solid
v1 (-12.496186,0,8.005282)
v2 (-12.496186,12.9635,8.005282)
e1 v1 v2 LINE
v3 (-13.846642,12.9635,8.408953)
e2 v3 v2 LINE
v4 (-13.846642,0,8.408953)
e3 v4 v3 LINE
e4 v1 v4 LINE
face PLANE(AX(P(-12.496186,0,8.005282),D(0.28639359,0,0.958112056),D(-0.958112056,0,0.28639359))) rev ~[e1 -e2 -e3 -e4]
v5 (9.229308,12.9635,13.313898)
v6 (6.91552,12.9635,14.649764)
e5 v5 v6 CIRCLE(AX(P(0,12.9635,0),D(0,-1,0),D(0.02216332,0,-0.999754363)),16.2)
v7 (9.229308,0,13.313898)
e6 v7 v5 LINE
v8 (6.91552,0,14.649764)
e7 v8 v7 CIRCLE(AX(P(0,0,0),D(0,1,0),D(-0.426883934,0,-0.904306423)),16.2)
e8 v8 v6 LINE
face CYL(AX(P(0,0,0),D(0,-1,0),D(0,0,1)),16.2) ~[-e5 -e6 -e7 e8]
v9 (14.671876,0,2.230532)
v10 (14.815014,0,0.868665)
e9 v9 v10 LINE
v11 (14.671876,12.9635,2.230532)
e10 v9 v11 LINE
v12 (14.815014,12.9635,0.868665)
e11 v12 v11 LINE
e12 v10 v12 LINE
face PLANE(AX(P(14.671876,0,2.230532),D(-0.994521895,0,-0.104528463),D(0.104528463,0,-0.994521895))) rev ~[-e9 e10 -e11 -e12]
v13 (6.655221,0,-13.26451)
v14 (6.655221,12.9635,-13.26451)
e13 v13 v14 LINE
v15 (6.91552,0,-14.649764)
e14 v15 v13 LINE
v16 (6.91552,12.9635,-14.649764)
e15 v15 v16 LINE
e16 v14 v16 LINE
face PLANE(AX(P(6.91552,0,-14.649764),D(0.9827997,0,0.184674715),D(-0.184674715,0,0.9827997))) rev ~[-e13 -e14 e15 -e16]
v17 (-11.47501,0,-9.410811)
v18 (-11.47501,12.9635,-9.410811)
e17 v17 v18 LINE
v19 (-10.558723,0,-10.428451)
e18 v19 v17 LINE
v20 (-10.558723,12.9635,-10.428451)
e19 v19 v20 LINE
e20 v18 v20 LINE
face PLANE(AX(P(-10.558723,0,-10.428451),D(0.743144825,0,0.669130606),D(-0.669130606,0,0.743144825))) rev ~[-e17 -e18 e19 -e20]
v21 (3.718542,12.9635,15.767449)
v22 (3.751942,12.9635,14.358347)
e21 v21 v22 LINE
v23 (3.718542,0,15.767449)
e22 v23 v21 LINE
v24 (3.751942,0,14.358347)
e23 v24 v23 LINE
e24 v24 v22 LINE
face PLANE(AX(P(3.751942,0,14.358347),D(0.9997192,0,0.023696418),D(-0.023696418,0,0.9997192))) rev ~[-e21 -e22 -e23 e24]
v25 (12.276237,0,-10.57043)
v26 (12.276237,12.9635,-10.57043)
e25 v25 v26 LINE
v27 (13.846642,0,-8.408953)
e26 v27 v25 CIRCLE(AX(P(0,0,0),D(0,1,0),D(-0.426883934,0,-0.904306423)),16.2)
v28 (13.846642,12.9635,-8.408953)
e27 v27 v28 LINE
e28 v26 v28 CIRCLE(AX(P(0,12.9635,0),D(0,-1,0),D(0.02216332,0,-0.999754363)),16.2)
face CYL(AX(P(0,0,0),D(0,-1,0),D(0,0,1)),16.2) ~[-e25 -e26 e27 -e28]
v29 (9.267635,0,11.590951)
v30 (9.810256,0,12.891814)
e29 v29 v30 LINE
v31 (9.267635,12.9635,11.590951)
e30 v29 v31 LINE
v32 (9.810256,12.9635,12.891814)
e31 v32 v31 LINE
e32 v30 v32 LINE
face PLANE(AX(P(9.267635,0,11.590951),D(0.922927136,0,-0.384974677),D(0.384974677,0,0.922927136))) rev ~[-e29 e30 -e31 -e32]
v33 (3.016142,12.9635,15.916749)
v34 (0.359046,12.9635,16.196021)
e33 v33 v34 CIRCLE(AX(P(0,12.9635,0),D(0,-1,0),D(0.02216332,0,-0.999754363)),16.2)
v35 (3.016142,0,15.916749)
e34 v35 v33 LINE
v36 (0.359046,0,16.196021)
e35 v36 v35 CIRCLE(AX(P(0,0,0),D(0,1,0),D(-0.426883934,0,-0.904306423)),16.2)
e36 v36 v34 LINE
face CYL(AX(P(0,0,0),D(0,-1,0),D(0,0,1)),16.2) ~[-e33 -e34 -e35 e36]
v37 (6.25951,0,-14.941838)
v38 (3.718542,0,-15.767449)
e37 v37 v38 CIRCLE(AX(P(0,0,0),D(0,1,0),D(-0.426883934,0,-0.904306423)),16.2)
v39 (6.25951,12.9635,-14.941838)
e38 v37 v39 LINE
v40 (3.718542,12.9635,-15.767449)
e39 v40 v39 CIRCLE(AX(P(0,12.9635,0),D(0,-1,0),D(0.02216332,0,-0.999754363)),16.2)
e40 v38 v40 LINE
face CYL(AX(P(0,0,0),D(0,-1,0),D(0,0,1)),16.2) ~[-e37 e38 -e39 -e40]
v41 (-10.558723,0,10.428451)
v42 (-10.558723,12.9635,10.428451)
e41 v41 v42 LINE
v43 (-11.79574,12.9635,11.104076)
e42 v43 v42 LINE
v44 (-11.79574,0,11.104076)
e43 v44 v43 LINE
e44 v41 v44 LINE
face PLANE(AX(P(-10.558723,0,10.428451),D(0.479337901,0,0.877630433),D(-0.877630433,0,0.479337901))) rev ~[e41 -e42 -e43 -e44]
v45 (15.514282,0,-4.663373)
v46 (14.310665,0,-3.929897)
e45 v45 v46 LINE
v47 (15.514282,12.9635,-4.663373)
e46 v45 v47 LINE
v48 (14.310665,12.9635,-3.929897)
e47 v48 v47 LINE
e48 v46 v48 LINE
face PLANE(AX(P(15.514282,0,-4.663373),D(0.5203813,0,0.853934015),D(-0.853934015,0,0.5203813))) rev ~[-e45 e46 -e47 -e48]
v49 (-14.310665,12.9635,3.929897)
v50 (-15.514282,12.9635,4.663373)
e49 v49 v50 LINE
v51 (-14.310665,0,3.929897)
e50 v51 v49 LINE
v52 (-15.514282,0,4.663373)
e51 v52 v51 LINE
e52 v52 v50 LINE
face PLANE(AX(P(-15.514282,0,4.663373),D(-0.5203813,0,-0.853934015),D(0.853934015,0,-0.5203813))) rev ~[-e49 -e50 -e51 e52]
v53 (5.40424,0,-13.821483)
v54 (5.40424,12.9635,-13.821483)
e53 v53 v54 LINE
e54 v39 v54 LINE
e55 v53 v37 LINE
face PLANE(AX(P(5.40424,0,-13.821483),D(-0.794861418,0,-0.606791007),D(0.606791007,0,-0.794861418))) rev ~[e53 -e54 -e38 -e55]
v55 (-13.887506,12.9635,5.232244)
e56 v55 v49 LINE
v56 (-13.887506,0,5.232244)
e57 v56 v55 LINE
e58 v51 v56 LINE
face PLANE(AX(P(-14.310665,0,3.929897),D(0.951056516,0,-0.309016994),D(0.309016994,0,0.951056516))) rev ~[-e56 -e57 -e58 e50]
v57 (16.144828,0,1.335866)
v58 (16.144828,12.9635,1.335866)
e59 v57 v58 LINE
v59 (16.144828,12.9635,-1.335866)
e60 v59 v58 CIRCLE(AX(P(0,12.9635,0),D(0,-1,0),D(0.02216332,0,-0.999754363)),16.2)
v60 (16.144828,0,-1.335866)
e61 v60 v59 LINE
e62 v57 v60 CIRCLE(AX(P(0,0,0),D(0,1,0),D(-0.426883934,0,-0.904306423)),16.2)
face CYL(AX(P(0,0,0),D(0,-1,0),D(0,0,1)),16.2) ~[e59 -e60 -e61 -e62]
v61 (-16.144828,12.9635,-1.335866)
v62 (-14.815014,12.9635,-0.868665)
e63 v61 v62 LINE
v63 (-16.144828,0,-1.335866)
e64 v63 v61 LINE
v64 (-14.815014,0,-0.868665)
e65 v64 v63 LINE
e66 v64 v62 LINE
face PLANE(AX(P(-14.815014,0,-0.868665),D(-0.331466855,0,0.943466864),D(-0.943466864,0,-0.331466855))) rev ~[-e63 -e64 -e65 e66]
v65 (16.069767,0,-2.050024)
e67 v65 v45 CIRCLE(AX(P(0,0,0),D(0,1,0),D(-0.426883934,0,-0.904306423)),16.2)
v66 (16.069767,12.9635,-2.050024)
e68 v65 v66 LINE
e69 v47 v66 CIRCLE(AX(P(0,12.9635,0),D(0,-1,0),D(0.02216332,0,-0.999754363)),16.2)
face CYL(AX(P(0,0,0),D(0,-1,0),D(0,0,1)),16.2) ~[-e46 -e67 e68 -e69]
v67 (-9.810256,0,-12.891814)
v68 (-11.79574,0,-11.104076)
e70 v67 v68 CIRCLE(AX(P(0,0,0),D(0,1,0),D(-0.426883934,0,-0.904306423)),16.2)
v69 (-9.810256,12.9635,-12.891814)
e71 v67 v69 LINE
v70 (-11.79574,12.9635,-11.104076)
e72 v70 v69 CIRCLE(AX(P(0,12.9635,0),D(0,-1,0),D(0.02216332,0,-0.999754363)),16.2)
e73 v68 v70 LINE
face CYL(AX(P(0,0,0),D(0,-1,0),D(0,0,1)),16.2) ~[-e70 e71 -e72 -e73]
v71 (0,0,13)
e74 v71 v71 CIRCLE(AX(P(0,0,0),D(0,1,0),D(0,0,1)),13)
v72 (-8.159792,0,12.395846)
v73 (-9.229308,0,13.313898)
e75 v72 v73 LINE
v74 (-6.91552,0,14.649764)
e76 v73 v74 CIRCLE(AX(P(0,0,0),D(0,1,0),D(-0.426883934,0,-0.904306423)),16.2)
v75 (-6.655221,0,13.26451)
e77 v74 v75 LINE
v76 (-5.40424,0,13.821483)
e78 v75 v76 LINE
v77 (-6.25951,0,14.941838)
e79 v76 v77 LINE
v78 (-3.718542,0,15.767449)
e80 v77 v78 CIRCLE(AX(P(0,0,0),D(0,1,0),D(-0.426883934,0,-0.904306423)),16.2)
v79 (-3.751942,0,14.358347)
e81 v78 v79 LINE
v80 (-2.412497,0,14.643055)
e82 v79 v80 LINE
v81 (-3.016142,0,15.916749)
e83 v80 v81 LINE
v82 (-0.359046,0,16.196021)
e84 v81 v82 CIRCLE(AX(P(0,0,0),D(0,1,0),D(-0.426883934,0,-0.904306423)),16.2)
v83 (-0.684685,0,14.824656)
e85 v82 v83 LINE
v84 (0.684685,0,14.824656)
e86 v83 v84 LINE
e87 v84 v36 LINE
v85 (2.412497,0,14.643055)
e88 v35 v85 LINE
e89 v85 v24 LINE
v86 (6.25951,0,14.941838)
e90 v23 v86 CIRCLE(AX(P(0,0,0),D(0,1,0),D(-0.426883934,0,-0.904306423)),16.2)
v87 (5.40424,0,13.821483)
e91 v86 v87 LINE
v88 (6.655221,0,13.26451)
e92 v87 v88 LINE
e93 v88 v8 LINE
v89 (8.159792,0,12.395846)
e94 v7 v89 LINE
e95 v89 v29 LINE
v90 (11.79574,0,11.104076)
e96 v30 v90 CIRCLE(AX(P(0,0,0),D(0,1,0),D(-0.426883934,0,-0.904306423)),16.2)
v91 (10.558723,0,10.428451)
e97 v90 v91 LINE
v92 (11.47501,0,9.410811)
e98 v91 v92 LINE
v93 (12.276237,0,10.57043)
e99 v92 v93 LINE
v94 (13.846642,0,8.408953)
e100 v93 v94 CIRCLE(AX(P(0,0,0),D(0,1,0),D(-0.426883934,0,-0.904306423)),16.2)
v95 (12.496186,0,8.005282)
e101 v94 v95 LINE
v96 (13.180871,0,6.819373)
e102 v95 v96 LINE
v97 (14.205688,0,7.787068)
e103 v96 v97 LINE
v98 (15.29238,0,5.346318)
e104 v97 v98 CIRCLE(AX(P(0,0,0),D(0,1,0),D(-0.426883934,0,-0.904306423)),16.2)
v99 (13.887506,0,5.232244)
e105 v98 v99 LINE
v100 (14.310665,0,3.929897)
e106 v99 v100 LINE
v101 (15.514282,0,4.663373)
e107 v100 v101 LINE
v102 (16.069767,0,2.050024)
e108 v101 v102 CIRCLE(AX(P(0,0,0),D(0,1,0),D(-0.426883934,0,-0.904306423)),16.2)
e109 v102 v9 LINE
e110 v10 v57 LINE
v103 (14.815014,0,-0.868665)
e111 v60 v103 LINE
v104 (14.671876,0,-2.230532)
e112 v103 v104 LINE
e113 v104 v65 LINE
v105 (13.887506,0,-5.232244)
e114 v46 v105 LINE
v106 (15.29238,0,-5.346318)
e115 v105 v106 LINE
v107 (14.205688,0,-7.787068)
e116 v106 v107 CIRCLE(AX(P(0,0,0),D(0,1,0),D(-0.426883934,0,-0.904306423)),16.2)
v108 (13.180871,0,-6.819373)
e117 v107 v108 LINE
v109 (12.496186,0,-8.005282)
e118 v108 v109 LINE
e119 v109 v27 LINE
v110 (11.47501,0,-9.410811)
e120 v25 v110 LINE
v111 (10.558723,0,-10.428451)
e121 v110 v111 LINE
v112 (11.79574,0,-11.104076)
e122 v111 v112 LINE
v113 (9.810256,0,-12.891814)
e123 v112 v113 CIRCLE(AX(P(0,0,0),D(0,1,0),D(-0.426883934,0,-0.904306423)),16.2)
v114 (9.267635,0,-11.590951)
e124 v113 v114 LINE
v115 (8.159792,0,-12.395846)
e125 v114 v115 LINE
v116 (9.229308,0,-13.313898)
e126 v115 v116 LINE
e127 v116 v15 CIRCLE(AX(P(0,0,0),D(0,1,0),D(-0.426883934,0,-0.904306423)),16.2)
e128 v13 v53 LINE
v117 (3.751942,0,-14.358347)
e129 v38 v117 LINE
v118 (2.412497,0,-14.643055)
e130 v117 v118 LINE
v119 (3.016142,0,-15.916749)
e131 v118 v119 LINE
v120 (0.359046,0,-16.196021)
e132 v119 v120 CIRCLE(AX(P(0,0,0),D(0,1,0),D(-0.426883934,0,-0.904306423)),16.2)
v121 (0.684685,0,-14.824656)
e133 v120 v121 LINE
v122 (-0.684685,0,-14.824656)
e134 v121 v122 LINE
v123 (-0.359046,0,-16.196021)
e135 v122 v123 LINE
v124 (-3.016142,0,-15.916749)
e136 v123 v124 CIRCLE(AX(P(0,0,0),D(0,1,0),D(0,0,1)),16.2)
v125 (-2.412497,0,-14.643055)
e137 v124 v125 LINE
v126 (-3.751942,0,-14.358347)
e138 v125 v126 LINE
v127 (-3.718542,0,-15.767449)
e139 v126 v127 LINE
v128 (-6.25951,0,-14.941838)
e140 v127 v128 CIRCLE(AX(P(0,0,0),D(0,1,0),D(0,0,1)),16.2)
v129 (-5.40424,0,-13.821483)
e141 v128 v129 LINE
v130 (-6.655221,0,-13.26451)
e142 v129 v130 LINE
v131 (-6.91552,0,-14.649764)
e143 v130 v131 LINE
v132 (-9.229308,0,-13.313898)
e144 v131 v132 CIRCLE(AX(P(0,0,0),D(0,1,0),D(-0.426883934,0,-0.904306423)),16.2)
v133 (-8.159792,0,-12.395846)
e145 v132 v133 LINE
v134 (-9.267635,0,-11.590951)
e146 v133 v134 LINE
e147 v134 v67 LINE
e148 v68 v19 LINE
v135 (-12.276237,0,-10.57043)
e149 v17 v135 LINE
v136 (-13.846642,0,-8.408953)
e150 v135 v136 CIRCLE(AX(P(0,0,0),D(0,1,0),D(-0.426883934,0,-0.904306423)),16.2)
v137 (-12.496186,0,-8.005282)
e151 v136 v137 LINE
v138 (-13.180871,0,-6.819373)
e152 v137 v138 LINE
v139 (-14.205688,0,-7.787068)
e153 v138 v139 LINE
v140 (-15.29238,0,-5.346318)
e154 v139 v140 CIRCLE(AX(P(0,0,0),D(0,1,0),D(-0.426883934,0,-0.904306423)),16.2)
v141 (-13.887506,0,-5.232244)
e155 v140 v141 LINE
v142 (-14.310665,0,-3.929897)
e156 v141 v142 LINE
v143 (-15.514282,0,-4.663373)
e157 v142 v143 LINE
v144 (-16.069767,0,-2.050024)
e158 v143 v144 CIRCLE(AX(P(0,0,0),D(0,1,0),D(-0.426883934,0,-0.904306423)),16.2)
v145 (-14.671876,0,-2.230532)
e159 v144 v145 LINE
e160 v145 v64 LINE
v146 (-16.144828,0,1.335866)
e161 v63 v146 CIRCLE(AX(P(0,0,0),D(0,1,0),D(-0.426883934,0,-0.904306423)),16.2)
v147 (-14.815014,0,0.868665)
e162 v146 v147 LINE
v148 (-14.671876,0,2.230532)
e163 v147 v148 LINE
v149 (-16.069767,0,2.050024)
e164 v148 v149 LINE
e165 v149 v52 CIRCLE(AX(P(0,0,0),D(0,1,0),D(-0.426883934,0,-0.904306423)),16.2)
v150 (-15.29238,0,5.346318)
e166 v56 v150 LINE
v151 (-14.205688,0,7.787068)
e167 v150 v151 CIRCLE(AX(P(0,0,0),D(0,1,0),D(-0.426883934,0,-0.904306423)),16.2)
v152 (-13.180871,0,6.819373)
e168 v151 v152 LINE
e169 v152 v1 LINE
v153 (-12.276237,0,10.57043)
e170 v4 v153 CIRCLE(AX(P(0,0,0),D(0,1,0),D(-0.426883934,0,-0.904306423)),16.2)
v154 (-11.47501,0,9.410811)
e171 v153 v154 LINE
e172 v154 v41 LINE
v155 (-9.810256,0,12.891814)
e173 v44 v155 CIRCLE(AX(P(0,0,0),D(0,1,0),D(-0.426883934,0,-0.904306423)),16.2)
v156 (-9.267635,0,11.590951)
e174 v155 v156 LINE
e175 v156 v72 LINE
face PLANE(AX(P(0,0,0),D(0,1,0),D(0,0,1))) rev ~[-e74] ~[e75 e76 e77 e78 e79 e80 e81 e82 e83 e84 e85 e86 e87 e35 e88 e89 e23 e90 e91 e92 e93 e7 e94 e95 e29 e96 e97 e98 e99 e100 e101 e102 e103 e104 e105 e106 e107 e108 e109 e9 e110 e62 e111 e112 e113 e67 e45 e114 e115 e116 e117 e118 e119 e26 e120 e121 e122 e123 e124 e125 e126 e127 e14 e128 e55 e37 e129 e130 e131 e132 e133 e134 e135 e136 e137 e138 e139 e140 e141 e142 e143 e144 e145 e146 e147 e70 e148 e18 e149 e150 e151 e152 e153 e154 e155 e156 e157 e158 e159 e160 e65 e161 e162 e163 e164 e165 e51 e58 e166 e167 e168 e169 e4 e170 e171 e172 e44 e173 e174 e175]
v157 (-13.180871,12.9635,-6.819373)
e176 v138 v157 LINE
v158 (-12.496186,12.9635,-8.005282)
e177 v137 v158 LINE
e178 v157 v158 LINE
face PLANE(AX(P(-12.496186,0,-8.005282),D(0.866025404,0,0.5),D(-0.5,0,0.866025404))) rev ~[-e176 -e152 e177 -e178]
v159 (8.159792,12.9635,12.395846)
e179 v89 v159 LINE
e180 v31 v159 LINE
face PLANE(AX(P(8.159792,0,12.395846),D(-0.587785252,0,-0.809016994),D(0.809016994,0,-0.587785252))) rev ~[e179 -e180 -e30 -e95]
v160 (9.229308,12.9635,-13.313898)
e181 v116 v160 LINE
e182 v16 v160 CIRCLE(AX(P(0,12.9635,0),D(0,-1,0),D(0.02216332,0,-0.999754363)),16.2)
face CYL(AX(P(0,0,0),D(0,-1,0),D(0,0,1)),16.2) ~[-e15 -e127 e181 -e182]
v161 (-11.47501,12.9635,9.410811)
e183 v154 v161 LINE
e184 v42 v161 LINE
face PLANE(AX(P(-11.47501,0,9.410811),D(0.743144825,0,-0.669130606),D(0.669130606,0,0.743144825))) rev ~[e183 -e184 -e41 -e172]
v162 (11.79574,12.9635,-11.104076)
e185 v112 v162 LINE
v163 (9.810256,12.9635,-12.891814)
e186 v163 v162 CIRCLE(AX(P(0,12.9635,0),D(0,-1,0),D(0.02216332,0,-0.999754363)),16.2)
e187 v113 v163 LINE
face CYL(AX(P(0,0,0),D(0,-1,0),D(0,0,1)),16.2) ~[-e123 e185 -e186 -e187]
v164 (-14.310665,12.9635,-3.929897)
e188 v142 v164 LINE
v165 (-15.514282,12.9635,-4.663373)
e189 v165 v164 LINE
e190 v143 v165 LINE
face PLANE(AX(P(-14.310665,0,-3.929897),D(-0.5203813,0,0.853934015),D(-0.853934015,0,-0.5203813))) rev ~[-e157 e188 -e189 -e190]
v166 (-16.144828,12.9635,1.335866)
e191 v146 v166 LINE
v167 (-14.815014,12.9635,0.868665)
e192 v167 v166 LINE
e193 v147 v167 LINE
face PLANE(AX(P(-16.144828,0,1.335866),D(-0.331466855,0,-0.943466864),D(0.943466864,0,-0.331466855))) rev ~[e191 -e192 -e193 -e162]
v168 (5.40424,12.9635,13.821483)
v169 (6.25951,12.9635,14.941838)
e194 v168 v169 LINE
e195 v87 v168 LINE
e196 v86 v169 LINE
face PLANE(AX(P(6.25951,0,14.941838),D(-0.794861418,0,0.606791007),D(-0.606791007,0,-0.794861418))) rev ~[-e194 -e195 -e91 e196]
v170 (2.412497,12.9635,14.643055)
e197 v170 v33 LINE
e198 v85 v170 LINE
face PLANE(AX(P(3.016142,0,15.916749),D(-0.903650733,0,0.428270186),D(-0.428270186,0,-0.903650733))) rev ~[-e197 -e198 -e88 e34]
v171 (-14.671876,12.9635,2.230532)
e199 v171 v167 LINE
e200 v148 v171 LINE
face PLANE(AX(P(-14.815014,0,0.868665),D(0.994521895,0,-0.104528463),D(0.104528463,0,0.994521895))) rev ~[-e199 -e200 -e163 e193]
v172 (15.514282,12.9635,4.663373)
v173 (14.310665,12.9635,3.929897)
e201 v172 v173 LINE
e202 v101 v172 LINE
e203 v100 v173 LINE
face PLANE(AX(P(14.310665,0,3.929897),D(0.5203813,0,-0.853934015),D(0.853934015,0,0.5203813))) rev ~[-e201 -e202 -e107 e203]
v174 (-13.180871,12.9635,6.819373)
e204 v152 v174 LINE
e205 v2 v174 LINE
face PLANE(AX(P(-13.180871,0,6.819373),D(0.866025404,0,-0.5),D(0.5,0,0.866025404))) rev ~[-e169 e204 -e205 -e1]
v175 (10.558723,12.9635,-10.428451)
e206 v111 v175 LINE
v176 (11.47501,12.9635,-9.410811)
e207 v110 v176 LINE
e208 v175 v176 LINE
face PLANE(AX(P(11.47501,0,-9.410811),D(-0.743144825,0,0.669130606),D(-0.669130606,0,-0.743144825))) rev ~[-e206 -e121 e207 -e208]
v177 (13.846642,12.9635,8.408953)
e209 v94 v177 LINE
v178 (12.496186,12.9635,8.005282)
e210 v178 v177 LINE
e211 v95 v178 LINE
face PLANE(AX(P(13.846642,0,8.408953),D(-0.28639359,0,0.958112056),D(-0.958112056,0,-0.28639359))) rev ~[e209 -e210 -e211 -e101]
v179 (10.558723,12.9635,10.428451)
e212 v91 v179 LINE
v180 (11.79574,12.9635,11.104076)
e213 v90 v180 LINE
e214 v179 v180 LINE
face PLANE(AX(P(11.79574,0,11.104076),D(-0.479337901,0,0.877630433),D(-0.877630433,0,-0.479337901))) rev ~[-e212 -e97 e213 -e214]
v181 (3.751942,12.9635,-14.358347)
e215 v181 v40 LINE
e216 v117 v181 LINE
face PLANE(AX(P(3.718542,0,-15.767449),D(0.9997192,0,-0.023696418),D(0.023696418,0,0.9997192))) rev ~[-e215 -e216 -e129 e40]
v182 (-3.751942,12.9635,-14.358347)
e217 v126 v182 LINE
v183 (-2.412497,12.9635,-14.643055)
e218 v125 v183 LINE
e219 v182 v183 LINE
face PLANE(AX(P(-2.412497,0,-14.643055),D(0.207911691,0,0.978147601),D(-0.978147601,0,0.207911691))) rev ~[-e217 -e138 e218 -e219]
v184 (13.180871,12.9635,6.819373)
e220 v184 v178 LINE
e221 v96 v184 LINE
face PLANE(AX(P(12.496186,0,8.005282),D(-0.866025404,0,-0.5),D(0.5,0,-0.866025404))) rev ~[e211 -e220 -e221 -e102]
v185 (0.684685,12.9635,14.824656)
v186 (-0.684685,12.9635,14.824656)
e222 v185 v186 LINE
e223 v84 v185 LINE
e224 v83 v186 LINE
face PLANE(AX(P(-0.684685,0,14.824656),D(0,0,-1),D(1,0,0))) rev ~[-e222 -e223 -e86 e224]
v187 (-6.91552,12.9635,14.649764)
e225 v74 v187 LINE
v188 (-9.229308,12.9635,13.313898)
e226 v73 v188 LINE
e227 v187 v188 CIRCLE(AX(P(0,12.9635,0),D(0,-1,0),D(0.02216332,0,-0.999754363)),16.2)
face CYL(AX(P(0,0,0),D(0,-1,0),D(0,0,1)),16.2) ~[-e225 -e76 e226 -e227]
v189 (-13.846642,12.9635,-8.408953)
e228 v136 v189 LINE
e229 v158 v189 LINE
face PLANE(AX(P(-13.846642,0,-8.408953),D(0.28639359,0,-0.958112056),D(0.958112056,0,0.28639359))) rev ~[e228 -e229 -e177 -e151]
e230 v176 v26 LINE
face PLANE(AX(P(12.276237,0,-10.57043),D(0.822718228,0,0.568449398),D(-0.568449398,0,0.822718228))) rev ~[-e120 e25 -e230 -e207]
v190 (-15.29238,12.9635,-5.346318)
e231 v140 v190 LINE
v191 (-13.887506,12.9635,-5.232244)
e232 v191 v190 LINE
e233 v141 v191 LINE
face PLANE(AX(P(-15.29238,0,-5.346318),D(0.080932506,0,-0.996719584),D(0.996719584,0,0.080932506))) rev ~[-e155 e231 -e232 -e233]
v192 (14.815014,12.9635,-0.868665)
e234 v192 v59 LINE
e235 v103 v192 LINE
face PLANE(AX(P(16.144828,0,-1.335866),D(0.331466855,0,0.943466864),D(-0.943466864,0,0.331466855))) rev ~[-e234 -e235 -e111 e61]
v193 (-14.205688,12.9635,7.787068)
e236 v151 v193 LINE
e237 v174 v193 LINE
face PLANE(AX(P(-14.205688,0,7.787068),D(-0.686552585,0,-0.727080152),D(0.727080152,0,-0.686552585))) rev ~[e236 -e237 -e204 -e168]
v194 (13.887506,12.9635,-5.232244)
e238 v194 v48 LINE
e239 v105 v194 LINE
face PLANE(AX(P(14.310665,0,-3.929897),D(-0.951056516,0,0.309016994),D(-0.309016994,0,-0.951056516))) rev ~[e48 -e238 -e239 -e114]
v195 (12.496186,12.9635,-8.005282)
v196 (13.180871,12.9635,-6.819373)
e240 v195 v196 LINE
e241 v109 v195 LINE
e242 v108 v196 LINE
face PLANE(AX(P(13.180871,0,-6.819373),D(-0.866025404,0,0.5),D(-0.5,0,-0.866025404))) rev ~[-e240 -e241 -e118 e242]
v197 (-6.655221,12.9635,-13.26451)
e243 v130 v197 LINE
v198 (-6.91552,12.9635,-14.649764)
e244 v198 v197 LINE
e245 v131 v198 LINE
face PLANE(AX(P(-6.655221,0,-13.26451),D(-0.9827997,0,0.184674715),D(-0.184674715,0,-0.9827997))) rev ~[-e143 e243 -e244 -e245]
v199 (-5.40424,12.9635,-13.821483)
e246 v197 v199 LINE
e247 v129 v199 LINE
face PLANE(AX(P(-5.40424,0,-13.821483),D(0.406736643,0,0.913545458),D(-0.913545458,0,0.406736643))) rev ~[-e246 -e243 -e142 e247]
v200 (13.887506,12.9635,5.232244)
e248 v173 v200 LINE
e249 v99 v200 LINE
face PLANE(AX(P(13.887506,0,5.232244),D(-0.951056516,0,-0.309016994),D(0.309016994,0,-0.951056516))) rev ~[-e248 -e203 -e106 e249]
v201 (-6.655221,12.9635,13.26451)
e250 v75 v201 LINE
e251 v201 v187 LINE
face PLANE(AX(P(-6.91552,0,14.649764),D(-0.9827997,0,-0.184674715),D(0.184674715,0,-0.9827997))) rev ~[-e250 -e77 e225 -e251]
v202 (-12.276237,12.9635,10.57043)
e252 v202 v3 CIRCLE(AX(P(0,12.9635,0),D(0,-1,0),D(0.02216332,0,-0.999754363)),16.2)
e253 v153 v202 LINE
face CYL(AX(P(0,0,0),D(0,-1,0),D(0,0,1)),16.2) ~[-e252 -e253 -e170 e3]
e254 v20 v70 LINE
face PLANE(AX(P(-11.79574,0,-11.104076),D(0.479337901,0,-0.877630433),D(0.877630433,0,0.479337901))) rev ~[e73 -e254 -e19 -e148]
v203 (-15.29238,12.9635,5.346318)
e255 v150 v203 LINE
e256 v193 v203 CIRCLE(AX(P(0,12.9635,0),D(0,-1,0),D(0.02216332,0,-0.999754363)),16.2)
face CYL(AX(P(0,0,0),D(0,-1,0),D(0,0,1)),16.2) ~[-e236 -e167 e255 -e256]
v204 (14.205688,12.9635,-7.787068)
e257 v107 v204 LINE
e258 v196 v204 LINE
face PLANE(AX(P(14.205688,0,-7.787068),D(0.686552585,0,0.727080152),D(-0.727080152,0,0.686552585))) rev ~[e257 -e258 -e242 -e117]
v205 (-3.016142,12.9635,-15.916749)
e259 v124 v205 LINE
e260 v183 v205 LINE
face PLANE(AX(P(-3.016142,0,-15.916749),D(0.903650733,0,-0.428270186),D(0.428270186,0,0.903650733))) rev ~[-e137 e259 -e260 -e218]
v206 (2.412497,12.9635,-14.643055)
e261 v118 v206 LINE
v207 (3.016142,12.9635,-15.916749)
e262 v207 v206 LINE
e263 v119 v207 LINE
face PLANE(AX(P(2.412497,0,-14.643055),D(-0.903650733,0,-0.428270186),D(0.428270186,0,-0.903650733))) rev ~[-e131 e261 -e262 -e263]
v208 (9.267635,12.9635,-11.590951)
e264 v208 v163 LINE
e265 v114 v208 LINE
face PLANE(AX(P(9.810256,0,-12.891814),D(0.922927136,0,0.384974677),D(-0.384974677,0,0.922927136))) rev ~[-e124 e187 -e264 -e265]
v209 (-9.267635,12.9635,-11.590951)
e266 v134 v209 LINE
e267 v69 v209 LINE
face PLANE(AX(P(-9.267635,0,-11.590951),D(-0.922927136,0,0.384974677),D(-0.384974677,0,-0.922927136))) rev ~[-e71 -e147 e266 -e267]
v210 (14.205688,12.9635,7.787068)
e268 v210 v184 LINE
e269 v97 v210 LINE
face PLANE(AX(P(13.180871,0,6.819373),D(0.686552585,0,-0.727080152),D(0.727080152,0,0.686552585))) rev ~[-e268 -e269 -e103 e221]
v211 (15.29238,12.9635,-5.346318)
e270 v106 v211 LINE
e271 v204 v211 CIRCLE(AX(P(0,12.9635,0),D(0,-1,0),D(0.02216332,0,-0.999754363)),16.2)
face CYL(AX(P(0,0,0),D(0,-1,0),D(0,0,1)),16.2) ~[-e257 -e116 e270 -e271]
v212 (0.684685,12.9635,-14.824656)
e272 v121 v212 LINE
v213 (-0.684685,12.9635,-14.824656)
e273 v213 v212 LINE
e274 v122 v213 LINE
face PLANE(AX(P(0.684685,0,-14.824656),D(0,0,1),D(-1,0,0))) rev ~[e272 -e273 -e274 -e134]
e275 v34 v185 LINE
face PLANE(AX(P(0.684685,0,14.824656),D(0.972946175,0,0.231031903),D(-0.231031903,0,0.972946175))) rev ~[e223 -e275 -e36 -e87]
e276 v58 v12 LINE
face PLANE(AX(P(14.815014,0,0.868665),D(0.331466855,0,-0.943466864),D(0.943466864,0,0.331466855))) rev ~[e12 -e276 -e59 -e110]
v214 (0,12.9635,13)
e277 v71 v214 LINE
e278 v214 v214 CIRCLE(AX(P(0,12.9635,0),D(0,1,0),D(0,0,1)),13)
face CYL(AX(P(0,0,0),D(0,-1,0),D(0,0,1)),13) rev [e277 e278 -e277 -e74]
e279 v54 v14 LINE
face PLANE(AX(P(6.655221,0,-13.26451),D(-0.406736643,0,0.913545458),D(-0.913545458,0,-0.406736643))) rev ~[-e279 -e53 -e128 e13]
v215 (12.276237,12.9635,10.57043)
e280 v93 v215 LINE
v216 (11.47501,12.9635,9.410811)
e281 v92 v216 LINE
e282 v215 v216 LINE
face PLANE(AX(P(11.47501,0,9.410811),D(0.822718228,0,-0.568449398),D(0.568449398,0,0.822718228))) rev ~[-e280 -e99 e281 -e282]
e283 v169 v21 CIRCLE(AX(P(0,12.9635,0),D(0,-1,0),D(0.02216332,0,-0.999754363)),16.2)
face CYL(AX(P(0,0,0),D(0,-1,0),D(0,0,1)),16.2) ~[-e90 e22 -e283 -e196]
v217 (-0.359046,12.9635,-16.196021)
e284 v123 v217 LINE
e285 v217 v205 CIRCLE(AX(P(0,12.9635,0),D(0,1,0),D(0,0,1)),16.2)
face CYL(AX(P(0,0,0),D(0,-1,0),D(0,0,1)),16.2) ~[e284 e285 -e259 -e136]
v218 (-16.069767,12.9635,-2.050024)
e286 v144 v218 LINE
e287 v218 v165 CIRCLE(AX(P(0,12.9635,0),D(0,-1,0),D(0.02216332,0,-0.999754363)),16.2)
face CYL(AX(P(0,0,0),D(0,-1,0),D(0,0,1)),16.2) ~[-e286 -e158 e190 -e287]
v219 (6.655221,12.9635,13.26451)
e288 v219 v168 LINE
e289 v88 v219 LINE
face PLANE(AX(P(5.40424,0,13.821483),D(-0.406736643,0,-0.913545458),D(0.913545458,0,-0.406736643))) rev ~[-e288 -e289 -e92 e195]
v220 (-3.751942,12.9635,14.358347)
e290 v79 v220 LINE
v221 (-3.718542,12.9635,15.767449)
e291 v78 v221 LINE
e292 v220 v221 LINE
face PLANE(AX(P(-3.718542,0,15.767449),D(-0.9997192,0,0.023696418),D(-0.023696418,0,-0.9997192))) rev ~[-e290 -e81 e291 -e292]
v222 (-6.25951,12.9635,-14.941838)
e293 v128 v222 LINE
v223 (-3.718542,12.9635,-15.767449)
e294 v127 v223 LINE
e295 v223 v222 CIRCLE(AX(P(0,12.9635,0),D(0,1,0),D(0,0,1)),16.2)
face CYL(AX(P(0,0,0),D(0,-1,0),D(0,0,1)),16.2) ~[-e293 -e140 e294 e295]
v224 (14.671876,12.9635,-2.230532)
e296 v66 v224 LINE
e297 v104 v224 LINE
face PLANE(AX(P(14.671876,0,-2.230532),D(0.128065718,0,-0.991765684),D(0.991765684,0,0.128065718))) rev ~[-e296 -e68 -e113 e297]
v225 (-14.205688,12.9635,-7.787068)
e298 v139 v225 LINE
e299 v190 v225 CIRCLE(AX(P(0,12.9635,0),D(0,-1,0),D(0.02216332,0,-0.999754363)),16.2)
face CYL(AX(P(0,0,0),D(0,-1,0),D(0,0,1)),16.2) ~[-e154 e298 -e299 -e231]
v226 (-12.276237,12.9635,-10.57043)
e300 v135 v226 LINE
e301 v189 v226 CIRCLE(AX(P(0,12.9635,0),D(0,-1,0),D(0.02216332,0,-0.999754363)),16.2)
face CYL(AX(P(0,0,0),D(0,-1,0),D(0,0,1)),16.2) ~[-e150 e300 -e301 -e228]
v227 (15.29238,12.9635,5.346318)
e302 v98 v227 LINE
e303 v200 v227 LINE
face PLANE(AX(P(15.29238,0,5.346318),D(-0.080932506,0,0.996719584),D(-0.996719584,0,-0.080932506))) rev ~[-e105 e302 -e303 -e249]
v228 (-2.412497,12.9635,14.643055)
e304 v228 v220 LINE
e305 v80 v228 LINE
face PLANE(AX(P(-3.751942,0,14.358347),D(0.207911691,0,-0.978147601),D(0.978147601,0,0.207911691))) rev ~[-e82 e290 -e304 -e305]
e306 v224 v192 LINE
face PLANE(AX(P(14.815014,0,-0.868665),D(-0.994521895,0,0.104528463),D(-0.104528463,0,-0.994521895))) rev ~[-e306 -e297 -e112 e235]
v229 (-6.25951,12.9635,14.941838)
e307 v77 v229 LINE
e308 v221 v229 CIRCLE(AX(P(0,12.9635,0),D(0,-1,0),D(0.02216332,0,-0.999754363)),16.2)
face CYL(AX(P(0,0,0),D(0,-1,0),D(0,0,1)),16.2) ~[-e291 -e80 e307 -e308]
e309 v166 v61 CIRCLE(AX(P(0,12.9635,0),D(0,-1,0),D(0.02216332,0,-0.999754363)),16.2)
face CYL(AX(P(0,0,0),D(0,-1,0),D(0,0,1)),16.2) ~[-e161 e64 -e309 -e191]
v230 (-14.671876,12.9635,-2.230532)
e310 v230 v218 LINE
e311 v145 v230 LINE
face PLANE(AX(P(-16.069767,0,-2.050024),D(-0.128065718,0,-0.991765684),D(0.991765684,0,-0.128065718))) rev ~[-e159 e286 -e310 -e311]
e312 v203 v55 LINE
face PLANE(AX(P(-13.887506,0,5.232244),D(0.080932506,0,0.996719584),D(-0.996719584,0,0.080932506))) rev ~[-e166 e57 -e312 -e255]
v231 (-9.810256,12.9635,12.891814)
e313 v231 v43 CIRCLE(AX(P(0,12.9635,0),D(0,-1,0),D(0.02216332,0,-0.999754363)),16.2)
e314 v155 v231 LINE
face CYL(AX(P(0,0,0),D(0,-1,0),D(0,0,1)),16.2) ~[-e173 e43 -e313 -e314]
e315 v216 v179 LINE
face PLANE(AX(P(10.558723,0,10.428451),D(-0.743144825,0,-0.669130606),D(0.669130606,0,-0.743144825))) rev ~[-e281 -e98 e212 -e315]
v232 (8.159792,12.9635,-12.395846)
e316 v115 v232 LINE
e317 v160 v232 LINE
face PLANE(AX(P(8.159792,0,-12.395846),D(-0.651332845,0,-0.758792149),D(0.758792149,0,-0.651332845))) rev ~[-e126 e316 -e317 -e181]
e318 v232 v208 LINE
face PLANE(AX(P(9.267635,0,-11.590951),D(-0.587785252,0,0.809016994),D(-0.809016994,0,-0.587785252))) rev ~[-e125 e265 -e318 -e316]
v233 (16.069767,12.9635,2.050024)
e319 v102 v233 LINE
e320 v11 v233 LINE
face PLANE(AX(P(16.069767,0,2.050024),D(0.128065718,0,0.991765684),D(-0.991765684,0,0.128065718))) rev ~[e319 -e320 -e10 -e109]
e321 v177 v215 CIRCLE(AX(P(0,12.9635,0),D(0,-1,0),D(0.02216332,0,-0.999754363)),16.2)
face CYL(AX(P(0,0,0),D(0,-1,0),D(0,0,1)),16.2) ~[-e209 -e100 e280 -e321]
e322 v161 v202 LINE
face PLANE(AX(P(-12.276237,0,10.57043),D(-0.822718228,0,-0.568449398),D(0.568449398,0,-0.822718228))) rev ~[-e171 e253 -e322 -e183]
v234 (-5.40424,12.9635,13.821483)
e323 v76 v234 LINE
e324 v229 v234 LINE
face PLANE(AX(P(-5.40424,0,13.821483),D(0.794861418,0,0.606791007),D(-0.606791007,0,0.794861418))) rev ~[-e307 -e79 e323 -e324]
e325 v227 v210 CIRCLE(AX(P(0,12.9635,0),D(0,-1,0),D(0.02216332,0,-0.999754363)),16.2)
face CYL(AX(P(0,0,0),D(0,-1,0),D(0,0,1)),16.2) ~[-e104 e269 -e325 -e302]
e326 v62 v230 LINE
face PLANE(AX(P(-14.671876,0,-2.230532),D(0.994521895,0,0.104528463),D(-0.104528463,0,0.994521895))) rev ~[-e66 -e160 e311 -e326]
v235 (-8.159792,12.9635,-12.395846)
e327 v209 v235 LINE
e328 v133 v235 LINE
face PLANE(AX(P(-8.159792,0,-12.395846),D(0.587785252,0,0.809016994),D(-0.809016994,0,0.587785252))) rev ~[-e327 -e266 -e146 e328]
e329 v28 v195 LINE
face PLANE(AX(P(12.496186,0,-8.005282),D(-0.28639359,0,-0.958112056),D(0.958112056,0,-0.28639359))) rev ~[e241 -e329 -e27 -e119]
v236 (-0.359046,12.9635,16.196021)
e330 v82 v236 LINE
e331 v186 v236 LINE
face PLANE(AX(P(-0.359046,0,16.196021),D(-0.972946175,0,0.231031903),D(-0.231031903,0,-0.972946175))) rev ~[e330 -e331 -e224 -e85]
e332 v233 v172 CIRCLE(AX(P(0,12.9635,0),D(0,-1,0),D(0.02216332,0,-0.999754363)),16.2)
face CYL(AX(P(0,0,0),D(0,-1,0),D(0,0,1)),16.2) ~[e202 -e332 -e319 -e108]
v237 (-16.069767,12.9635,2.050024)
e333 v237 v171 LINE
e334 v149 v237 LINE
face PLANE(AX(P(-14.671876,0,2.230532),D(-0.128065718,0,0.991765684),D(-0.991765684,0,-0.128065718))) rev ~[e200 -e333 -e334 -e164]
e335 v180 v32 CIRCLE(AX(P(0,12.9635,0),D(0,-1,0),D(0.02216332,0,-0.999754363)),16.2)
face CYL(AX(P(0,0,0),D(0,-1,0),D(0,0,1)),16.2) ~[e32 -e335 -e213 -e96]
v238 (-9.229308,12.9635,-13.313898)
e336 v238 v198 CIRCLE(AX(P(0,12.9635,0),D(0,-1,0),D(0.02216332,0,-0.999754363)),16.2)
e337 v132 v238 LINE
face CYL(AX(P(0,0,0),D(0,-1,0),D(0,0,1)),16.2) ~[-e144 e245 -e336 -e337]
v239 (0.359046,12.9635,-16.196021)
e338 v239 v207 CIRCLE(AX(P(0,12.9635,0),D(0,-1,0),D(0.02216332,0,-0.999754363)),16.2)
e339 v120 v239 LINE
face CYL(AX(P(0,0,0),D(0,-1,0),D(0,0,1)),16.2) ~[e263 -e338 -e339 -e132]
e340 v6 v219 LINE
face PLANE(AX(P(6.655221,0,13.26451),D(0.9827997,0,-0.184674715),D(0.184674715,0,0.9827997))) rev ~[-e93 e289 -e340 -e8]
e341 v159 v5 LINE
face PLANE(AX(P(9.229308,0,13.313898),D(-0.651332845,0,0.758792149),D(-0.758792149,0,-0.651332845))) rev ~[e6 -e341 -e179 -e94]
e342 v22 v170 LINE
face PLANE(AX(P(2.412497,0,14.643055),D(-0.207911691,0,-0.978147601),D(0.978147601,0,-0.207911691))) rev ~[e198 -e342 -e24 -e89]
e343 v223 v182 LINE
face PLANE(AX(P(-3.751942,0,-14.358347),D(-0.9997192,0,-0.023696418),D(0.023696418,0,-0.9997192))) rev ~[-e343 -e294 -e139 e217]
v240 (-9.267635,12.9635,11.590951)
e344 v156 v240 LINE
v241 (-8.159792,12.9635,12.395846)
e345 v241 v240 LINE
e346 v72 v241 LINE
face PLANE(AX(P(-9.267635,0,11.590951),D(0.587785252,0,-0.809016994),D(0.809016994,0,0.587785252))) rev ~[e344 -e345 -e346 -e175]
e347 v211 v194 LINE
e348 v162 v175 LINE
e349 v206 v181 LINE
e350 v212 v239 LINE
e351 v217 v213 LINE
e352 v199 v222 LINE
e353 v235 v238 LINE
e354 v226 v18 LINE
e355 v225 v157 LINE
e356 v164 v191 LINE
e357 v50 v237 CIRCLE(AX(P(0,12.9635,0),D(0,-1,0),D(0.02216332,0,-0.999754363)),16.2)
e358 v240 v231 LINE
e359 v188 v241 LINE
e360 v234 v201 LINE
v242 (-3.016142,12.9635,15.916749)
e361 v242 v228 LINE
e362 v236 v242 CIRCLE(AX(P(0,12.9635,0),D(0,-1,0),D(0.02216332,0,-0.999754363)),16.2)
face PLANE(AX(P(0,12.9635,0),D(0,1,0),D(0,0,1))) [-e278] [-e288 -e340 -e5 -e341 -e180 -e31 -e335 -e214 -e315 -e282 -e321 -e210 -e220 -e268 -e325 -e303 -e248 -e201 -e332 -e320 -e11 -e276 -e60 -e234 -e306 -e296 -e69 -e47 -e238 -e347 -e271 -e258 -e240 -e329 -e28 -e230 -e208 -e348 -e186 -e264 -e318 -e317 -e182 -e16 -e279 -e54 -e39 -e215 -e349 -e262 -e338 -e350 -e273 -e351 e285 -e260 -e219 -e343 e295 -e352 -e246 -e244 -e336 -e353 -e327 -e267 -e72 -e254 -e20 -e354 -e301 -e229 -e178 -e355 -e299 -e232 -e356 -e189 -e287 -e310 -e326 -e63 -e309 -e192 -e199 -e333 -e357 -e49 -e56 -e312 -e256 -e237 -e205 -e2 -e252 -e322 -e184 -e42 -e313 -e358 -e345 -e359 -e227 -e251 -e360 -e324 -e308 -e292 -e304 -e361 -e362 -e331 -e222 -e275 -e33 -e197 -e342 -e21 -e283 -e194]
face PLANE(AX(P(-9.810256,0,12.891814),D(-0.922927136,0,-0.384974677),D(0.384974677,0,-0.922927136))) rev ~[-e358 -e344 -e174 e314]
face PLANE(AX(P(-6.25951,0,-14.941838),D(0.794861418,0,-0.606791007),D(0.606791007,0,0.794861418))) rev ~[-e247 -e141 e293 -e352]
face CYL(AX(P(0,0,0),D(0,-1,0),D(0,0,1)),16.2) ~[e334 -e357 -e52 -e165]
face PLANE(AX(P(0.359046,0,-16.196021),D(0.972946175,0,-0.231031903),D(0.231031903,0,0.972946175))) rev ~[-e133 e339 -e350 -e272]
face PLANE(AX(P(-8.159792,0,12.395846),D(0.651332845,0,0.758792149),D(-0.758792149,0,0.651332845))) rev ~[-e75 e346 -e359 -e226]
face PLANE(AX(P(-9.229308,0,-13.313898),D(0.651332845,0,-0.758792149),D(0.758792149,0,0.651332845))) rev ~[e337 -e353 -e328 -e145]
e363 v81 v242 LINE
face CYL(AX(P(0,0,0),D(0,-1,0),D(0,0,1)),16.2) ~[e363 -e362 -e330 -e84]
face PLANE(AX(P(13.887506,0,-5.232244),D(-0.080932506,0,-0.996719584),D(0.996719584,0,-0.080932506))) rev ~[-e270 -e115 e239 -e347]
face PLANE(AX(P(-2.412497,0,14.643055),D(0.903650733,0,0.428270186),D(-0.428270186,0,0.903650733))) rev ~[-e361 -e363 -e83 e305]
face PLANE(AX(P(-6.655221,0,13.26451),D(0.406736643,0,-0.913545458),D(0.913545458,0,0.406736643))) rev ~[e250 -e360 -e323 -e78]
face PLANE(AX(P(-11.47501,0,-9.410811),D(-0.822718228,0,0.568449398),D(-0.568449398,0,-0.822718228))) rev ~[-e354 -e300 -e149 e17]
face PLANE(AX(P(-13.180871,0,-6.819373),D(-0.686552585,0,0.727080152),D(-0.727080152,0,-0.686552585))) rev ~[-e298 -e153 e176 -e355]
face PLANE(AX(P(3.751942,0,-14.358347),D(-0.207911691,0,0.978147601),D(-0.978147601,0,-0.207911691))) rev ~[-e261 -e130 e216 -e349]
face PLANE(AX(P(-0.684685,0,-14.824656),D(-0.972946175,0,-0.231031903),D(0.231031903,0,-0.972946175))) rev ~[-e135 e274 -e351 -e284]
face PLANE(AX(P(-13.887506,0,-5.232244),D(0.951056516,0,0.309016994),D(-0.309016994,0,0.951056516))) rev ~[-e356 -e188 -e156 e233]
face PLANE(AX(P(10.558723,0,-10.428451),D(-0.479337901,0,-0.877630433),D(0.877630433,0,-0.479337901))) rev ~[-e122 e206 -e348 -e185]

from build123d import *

# Parameters (mm, degrees)
SKETCH1_R           = 16.2
SKETCH1_R_2         = 13
BOSS_EXTRUDE1_DEPTH = 12.9635
CUT_EXTRUDE1_DEPTH  = 27.323607888
CIRPATTERN1_COUNT   = 30


with BuildPart() as part:
    # Sketch1 → Boss-Extrude1 (new body)
    with BuildSketch(Plane(origin=(0, 0, 0), x_dir=(1, 0, 0), z_dir=(0, 1, 0))):
        with Locations(Location((0, 0, 0), (0, 0, 270))):
            Circle(SKETCH1_R)
        with Locations(Location((0, 0, 0), (0, 0, 270))):
            Circle(SKETCH1_R_2, mode=Mode.SUBTRACT)
    extrude(amount=BOSS_EXTRUDE1_DEPTH)

    # Sketch2 → Cut-Extrude1 (cut, through all)
    with BuildSketch(Plane(origin=(0, 0, 0), x_dir=(1, 0, 0), z_dir=(0, 1, 0))):
        Polygon((0.684684655, 14.824655601), (-0.684684655, 14.824655601), (-0.359045792, 16.196020688), (-0.359045792, 18.052836496), (0.359045792, 18.052836496), (0.359045792, 16.196020688), align=None)
    cut_extrude1 = extrude(amount=CUT_EXTRUDE1_DEPTH, mode=Mode.SUBTRACT)

    # CirPattern1: Cut-Extrude1 ×30 about axis
    cirpattern1_axis = Axis((0, 0, 0), (0, 1, 0))
    for i in range(1, CIRPATTERN1_COUNT):
        add(cut_extrude1.rotate(cirpattern1_axis, i * 360 / CIRPATTERN1_COUNT), mode=Mode.SUBTRACT)


solid = part.part
